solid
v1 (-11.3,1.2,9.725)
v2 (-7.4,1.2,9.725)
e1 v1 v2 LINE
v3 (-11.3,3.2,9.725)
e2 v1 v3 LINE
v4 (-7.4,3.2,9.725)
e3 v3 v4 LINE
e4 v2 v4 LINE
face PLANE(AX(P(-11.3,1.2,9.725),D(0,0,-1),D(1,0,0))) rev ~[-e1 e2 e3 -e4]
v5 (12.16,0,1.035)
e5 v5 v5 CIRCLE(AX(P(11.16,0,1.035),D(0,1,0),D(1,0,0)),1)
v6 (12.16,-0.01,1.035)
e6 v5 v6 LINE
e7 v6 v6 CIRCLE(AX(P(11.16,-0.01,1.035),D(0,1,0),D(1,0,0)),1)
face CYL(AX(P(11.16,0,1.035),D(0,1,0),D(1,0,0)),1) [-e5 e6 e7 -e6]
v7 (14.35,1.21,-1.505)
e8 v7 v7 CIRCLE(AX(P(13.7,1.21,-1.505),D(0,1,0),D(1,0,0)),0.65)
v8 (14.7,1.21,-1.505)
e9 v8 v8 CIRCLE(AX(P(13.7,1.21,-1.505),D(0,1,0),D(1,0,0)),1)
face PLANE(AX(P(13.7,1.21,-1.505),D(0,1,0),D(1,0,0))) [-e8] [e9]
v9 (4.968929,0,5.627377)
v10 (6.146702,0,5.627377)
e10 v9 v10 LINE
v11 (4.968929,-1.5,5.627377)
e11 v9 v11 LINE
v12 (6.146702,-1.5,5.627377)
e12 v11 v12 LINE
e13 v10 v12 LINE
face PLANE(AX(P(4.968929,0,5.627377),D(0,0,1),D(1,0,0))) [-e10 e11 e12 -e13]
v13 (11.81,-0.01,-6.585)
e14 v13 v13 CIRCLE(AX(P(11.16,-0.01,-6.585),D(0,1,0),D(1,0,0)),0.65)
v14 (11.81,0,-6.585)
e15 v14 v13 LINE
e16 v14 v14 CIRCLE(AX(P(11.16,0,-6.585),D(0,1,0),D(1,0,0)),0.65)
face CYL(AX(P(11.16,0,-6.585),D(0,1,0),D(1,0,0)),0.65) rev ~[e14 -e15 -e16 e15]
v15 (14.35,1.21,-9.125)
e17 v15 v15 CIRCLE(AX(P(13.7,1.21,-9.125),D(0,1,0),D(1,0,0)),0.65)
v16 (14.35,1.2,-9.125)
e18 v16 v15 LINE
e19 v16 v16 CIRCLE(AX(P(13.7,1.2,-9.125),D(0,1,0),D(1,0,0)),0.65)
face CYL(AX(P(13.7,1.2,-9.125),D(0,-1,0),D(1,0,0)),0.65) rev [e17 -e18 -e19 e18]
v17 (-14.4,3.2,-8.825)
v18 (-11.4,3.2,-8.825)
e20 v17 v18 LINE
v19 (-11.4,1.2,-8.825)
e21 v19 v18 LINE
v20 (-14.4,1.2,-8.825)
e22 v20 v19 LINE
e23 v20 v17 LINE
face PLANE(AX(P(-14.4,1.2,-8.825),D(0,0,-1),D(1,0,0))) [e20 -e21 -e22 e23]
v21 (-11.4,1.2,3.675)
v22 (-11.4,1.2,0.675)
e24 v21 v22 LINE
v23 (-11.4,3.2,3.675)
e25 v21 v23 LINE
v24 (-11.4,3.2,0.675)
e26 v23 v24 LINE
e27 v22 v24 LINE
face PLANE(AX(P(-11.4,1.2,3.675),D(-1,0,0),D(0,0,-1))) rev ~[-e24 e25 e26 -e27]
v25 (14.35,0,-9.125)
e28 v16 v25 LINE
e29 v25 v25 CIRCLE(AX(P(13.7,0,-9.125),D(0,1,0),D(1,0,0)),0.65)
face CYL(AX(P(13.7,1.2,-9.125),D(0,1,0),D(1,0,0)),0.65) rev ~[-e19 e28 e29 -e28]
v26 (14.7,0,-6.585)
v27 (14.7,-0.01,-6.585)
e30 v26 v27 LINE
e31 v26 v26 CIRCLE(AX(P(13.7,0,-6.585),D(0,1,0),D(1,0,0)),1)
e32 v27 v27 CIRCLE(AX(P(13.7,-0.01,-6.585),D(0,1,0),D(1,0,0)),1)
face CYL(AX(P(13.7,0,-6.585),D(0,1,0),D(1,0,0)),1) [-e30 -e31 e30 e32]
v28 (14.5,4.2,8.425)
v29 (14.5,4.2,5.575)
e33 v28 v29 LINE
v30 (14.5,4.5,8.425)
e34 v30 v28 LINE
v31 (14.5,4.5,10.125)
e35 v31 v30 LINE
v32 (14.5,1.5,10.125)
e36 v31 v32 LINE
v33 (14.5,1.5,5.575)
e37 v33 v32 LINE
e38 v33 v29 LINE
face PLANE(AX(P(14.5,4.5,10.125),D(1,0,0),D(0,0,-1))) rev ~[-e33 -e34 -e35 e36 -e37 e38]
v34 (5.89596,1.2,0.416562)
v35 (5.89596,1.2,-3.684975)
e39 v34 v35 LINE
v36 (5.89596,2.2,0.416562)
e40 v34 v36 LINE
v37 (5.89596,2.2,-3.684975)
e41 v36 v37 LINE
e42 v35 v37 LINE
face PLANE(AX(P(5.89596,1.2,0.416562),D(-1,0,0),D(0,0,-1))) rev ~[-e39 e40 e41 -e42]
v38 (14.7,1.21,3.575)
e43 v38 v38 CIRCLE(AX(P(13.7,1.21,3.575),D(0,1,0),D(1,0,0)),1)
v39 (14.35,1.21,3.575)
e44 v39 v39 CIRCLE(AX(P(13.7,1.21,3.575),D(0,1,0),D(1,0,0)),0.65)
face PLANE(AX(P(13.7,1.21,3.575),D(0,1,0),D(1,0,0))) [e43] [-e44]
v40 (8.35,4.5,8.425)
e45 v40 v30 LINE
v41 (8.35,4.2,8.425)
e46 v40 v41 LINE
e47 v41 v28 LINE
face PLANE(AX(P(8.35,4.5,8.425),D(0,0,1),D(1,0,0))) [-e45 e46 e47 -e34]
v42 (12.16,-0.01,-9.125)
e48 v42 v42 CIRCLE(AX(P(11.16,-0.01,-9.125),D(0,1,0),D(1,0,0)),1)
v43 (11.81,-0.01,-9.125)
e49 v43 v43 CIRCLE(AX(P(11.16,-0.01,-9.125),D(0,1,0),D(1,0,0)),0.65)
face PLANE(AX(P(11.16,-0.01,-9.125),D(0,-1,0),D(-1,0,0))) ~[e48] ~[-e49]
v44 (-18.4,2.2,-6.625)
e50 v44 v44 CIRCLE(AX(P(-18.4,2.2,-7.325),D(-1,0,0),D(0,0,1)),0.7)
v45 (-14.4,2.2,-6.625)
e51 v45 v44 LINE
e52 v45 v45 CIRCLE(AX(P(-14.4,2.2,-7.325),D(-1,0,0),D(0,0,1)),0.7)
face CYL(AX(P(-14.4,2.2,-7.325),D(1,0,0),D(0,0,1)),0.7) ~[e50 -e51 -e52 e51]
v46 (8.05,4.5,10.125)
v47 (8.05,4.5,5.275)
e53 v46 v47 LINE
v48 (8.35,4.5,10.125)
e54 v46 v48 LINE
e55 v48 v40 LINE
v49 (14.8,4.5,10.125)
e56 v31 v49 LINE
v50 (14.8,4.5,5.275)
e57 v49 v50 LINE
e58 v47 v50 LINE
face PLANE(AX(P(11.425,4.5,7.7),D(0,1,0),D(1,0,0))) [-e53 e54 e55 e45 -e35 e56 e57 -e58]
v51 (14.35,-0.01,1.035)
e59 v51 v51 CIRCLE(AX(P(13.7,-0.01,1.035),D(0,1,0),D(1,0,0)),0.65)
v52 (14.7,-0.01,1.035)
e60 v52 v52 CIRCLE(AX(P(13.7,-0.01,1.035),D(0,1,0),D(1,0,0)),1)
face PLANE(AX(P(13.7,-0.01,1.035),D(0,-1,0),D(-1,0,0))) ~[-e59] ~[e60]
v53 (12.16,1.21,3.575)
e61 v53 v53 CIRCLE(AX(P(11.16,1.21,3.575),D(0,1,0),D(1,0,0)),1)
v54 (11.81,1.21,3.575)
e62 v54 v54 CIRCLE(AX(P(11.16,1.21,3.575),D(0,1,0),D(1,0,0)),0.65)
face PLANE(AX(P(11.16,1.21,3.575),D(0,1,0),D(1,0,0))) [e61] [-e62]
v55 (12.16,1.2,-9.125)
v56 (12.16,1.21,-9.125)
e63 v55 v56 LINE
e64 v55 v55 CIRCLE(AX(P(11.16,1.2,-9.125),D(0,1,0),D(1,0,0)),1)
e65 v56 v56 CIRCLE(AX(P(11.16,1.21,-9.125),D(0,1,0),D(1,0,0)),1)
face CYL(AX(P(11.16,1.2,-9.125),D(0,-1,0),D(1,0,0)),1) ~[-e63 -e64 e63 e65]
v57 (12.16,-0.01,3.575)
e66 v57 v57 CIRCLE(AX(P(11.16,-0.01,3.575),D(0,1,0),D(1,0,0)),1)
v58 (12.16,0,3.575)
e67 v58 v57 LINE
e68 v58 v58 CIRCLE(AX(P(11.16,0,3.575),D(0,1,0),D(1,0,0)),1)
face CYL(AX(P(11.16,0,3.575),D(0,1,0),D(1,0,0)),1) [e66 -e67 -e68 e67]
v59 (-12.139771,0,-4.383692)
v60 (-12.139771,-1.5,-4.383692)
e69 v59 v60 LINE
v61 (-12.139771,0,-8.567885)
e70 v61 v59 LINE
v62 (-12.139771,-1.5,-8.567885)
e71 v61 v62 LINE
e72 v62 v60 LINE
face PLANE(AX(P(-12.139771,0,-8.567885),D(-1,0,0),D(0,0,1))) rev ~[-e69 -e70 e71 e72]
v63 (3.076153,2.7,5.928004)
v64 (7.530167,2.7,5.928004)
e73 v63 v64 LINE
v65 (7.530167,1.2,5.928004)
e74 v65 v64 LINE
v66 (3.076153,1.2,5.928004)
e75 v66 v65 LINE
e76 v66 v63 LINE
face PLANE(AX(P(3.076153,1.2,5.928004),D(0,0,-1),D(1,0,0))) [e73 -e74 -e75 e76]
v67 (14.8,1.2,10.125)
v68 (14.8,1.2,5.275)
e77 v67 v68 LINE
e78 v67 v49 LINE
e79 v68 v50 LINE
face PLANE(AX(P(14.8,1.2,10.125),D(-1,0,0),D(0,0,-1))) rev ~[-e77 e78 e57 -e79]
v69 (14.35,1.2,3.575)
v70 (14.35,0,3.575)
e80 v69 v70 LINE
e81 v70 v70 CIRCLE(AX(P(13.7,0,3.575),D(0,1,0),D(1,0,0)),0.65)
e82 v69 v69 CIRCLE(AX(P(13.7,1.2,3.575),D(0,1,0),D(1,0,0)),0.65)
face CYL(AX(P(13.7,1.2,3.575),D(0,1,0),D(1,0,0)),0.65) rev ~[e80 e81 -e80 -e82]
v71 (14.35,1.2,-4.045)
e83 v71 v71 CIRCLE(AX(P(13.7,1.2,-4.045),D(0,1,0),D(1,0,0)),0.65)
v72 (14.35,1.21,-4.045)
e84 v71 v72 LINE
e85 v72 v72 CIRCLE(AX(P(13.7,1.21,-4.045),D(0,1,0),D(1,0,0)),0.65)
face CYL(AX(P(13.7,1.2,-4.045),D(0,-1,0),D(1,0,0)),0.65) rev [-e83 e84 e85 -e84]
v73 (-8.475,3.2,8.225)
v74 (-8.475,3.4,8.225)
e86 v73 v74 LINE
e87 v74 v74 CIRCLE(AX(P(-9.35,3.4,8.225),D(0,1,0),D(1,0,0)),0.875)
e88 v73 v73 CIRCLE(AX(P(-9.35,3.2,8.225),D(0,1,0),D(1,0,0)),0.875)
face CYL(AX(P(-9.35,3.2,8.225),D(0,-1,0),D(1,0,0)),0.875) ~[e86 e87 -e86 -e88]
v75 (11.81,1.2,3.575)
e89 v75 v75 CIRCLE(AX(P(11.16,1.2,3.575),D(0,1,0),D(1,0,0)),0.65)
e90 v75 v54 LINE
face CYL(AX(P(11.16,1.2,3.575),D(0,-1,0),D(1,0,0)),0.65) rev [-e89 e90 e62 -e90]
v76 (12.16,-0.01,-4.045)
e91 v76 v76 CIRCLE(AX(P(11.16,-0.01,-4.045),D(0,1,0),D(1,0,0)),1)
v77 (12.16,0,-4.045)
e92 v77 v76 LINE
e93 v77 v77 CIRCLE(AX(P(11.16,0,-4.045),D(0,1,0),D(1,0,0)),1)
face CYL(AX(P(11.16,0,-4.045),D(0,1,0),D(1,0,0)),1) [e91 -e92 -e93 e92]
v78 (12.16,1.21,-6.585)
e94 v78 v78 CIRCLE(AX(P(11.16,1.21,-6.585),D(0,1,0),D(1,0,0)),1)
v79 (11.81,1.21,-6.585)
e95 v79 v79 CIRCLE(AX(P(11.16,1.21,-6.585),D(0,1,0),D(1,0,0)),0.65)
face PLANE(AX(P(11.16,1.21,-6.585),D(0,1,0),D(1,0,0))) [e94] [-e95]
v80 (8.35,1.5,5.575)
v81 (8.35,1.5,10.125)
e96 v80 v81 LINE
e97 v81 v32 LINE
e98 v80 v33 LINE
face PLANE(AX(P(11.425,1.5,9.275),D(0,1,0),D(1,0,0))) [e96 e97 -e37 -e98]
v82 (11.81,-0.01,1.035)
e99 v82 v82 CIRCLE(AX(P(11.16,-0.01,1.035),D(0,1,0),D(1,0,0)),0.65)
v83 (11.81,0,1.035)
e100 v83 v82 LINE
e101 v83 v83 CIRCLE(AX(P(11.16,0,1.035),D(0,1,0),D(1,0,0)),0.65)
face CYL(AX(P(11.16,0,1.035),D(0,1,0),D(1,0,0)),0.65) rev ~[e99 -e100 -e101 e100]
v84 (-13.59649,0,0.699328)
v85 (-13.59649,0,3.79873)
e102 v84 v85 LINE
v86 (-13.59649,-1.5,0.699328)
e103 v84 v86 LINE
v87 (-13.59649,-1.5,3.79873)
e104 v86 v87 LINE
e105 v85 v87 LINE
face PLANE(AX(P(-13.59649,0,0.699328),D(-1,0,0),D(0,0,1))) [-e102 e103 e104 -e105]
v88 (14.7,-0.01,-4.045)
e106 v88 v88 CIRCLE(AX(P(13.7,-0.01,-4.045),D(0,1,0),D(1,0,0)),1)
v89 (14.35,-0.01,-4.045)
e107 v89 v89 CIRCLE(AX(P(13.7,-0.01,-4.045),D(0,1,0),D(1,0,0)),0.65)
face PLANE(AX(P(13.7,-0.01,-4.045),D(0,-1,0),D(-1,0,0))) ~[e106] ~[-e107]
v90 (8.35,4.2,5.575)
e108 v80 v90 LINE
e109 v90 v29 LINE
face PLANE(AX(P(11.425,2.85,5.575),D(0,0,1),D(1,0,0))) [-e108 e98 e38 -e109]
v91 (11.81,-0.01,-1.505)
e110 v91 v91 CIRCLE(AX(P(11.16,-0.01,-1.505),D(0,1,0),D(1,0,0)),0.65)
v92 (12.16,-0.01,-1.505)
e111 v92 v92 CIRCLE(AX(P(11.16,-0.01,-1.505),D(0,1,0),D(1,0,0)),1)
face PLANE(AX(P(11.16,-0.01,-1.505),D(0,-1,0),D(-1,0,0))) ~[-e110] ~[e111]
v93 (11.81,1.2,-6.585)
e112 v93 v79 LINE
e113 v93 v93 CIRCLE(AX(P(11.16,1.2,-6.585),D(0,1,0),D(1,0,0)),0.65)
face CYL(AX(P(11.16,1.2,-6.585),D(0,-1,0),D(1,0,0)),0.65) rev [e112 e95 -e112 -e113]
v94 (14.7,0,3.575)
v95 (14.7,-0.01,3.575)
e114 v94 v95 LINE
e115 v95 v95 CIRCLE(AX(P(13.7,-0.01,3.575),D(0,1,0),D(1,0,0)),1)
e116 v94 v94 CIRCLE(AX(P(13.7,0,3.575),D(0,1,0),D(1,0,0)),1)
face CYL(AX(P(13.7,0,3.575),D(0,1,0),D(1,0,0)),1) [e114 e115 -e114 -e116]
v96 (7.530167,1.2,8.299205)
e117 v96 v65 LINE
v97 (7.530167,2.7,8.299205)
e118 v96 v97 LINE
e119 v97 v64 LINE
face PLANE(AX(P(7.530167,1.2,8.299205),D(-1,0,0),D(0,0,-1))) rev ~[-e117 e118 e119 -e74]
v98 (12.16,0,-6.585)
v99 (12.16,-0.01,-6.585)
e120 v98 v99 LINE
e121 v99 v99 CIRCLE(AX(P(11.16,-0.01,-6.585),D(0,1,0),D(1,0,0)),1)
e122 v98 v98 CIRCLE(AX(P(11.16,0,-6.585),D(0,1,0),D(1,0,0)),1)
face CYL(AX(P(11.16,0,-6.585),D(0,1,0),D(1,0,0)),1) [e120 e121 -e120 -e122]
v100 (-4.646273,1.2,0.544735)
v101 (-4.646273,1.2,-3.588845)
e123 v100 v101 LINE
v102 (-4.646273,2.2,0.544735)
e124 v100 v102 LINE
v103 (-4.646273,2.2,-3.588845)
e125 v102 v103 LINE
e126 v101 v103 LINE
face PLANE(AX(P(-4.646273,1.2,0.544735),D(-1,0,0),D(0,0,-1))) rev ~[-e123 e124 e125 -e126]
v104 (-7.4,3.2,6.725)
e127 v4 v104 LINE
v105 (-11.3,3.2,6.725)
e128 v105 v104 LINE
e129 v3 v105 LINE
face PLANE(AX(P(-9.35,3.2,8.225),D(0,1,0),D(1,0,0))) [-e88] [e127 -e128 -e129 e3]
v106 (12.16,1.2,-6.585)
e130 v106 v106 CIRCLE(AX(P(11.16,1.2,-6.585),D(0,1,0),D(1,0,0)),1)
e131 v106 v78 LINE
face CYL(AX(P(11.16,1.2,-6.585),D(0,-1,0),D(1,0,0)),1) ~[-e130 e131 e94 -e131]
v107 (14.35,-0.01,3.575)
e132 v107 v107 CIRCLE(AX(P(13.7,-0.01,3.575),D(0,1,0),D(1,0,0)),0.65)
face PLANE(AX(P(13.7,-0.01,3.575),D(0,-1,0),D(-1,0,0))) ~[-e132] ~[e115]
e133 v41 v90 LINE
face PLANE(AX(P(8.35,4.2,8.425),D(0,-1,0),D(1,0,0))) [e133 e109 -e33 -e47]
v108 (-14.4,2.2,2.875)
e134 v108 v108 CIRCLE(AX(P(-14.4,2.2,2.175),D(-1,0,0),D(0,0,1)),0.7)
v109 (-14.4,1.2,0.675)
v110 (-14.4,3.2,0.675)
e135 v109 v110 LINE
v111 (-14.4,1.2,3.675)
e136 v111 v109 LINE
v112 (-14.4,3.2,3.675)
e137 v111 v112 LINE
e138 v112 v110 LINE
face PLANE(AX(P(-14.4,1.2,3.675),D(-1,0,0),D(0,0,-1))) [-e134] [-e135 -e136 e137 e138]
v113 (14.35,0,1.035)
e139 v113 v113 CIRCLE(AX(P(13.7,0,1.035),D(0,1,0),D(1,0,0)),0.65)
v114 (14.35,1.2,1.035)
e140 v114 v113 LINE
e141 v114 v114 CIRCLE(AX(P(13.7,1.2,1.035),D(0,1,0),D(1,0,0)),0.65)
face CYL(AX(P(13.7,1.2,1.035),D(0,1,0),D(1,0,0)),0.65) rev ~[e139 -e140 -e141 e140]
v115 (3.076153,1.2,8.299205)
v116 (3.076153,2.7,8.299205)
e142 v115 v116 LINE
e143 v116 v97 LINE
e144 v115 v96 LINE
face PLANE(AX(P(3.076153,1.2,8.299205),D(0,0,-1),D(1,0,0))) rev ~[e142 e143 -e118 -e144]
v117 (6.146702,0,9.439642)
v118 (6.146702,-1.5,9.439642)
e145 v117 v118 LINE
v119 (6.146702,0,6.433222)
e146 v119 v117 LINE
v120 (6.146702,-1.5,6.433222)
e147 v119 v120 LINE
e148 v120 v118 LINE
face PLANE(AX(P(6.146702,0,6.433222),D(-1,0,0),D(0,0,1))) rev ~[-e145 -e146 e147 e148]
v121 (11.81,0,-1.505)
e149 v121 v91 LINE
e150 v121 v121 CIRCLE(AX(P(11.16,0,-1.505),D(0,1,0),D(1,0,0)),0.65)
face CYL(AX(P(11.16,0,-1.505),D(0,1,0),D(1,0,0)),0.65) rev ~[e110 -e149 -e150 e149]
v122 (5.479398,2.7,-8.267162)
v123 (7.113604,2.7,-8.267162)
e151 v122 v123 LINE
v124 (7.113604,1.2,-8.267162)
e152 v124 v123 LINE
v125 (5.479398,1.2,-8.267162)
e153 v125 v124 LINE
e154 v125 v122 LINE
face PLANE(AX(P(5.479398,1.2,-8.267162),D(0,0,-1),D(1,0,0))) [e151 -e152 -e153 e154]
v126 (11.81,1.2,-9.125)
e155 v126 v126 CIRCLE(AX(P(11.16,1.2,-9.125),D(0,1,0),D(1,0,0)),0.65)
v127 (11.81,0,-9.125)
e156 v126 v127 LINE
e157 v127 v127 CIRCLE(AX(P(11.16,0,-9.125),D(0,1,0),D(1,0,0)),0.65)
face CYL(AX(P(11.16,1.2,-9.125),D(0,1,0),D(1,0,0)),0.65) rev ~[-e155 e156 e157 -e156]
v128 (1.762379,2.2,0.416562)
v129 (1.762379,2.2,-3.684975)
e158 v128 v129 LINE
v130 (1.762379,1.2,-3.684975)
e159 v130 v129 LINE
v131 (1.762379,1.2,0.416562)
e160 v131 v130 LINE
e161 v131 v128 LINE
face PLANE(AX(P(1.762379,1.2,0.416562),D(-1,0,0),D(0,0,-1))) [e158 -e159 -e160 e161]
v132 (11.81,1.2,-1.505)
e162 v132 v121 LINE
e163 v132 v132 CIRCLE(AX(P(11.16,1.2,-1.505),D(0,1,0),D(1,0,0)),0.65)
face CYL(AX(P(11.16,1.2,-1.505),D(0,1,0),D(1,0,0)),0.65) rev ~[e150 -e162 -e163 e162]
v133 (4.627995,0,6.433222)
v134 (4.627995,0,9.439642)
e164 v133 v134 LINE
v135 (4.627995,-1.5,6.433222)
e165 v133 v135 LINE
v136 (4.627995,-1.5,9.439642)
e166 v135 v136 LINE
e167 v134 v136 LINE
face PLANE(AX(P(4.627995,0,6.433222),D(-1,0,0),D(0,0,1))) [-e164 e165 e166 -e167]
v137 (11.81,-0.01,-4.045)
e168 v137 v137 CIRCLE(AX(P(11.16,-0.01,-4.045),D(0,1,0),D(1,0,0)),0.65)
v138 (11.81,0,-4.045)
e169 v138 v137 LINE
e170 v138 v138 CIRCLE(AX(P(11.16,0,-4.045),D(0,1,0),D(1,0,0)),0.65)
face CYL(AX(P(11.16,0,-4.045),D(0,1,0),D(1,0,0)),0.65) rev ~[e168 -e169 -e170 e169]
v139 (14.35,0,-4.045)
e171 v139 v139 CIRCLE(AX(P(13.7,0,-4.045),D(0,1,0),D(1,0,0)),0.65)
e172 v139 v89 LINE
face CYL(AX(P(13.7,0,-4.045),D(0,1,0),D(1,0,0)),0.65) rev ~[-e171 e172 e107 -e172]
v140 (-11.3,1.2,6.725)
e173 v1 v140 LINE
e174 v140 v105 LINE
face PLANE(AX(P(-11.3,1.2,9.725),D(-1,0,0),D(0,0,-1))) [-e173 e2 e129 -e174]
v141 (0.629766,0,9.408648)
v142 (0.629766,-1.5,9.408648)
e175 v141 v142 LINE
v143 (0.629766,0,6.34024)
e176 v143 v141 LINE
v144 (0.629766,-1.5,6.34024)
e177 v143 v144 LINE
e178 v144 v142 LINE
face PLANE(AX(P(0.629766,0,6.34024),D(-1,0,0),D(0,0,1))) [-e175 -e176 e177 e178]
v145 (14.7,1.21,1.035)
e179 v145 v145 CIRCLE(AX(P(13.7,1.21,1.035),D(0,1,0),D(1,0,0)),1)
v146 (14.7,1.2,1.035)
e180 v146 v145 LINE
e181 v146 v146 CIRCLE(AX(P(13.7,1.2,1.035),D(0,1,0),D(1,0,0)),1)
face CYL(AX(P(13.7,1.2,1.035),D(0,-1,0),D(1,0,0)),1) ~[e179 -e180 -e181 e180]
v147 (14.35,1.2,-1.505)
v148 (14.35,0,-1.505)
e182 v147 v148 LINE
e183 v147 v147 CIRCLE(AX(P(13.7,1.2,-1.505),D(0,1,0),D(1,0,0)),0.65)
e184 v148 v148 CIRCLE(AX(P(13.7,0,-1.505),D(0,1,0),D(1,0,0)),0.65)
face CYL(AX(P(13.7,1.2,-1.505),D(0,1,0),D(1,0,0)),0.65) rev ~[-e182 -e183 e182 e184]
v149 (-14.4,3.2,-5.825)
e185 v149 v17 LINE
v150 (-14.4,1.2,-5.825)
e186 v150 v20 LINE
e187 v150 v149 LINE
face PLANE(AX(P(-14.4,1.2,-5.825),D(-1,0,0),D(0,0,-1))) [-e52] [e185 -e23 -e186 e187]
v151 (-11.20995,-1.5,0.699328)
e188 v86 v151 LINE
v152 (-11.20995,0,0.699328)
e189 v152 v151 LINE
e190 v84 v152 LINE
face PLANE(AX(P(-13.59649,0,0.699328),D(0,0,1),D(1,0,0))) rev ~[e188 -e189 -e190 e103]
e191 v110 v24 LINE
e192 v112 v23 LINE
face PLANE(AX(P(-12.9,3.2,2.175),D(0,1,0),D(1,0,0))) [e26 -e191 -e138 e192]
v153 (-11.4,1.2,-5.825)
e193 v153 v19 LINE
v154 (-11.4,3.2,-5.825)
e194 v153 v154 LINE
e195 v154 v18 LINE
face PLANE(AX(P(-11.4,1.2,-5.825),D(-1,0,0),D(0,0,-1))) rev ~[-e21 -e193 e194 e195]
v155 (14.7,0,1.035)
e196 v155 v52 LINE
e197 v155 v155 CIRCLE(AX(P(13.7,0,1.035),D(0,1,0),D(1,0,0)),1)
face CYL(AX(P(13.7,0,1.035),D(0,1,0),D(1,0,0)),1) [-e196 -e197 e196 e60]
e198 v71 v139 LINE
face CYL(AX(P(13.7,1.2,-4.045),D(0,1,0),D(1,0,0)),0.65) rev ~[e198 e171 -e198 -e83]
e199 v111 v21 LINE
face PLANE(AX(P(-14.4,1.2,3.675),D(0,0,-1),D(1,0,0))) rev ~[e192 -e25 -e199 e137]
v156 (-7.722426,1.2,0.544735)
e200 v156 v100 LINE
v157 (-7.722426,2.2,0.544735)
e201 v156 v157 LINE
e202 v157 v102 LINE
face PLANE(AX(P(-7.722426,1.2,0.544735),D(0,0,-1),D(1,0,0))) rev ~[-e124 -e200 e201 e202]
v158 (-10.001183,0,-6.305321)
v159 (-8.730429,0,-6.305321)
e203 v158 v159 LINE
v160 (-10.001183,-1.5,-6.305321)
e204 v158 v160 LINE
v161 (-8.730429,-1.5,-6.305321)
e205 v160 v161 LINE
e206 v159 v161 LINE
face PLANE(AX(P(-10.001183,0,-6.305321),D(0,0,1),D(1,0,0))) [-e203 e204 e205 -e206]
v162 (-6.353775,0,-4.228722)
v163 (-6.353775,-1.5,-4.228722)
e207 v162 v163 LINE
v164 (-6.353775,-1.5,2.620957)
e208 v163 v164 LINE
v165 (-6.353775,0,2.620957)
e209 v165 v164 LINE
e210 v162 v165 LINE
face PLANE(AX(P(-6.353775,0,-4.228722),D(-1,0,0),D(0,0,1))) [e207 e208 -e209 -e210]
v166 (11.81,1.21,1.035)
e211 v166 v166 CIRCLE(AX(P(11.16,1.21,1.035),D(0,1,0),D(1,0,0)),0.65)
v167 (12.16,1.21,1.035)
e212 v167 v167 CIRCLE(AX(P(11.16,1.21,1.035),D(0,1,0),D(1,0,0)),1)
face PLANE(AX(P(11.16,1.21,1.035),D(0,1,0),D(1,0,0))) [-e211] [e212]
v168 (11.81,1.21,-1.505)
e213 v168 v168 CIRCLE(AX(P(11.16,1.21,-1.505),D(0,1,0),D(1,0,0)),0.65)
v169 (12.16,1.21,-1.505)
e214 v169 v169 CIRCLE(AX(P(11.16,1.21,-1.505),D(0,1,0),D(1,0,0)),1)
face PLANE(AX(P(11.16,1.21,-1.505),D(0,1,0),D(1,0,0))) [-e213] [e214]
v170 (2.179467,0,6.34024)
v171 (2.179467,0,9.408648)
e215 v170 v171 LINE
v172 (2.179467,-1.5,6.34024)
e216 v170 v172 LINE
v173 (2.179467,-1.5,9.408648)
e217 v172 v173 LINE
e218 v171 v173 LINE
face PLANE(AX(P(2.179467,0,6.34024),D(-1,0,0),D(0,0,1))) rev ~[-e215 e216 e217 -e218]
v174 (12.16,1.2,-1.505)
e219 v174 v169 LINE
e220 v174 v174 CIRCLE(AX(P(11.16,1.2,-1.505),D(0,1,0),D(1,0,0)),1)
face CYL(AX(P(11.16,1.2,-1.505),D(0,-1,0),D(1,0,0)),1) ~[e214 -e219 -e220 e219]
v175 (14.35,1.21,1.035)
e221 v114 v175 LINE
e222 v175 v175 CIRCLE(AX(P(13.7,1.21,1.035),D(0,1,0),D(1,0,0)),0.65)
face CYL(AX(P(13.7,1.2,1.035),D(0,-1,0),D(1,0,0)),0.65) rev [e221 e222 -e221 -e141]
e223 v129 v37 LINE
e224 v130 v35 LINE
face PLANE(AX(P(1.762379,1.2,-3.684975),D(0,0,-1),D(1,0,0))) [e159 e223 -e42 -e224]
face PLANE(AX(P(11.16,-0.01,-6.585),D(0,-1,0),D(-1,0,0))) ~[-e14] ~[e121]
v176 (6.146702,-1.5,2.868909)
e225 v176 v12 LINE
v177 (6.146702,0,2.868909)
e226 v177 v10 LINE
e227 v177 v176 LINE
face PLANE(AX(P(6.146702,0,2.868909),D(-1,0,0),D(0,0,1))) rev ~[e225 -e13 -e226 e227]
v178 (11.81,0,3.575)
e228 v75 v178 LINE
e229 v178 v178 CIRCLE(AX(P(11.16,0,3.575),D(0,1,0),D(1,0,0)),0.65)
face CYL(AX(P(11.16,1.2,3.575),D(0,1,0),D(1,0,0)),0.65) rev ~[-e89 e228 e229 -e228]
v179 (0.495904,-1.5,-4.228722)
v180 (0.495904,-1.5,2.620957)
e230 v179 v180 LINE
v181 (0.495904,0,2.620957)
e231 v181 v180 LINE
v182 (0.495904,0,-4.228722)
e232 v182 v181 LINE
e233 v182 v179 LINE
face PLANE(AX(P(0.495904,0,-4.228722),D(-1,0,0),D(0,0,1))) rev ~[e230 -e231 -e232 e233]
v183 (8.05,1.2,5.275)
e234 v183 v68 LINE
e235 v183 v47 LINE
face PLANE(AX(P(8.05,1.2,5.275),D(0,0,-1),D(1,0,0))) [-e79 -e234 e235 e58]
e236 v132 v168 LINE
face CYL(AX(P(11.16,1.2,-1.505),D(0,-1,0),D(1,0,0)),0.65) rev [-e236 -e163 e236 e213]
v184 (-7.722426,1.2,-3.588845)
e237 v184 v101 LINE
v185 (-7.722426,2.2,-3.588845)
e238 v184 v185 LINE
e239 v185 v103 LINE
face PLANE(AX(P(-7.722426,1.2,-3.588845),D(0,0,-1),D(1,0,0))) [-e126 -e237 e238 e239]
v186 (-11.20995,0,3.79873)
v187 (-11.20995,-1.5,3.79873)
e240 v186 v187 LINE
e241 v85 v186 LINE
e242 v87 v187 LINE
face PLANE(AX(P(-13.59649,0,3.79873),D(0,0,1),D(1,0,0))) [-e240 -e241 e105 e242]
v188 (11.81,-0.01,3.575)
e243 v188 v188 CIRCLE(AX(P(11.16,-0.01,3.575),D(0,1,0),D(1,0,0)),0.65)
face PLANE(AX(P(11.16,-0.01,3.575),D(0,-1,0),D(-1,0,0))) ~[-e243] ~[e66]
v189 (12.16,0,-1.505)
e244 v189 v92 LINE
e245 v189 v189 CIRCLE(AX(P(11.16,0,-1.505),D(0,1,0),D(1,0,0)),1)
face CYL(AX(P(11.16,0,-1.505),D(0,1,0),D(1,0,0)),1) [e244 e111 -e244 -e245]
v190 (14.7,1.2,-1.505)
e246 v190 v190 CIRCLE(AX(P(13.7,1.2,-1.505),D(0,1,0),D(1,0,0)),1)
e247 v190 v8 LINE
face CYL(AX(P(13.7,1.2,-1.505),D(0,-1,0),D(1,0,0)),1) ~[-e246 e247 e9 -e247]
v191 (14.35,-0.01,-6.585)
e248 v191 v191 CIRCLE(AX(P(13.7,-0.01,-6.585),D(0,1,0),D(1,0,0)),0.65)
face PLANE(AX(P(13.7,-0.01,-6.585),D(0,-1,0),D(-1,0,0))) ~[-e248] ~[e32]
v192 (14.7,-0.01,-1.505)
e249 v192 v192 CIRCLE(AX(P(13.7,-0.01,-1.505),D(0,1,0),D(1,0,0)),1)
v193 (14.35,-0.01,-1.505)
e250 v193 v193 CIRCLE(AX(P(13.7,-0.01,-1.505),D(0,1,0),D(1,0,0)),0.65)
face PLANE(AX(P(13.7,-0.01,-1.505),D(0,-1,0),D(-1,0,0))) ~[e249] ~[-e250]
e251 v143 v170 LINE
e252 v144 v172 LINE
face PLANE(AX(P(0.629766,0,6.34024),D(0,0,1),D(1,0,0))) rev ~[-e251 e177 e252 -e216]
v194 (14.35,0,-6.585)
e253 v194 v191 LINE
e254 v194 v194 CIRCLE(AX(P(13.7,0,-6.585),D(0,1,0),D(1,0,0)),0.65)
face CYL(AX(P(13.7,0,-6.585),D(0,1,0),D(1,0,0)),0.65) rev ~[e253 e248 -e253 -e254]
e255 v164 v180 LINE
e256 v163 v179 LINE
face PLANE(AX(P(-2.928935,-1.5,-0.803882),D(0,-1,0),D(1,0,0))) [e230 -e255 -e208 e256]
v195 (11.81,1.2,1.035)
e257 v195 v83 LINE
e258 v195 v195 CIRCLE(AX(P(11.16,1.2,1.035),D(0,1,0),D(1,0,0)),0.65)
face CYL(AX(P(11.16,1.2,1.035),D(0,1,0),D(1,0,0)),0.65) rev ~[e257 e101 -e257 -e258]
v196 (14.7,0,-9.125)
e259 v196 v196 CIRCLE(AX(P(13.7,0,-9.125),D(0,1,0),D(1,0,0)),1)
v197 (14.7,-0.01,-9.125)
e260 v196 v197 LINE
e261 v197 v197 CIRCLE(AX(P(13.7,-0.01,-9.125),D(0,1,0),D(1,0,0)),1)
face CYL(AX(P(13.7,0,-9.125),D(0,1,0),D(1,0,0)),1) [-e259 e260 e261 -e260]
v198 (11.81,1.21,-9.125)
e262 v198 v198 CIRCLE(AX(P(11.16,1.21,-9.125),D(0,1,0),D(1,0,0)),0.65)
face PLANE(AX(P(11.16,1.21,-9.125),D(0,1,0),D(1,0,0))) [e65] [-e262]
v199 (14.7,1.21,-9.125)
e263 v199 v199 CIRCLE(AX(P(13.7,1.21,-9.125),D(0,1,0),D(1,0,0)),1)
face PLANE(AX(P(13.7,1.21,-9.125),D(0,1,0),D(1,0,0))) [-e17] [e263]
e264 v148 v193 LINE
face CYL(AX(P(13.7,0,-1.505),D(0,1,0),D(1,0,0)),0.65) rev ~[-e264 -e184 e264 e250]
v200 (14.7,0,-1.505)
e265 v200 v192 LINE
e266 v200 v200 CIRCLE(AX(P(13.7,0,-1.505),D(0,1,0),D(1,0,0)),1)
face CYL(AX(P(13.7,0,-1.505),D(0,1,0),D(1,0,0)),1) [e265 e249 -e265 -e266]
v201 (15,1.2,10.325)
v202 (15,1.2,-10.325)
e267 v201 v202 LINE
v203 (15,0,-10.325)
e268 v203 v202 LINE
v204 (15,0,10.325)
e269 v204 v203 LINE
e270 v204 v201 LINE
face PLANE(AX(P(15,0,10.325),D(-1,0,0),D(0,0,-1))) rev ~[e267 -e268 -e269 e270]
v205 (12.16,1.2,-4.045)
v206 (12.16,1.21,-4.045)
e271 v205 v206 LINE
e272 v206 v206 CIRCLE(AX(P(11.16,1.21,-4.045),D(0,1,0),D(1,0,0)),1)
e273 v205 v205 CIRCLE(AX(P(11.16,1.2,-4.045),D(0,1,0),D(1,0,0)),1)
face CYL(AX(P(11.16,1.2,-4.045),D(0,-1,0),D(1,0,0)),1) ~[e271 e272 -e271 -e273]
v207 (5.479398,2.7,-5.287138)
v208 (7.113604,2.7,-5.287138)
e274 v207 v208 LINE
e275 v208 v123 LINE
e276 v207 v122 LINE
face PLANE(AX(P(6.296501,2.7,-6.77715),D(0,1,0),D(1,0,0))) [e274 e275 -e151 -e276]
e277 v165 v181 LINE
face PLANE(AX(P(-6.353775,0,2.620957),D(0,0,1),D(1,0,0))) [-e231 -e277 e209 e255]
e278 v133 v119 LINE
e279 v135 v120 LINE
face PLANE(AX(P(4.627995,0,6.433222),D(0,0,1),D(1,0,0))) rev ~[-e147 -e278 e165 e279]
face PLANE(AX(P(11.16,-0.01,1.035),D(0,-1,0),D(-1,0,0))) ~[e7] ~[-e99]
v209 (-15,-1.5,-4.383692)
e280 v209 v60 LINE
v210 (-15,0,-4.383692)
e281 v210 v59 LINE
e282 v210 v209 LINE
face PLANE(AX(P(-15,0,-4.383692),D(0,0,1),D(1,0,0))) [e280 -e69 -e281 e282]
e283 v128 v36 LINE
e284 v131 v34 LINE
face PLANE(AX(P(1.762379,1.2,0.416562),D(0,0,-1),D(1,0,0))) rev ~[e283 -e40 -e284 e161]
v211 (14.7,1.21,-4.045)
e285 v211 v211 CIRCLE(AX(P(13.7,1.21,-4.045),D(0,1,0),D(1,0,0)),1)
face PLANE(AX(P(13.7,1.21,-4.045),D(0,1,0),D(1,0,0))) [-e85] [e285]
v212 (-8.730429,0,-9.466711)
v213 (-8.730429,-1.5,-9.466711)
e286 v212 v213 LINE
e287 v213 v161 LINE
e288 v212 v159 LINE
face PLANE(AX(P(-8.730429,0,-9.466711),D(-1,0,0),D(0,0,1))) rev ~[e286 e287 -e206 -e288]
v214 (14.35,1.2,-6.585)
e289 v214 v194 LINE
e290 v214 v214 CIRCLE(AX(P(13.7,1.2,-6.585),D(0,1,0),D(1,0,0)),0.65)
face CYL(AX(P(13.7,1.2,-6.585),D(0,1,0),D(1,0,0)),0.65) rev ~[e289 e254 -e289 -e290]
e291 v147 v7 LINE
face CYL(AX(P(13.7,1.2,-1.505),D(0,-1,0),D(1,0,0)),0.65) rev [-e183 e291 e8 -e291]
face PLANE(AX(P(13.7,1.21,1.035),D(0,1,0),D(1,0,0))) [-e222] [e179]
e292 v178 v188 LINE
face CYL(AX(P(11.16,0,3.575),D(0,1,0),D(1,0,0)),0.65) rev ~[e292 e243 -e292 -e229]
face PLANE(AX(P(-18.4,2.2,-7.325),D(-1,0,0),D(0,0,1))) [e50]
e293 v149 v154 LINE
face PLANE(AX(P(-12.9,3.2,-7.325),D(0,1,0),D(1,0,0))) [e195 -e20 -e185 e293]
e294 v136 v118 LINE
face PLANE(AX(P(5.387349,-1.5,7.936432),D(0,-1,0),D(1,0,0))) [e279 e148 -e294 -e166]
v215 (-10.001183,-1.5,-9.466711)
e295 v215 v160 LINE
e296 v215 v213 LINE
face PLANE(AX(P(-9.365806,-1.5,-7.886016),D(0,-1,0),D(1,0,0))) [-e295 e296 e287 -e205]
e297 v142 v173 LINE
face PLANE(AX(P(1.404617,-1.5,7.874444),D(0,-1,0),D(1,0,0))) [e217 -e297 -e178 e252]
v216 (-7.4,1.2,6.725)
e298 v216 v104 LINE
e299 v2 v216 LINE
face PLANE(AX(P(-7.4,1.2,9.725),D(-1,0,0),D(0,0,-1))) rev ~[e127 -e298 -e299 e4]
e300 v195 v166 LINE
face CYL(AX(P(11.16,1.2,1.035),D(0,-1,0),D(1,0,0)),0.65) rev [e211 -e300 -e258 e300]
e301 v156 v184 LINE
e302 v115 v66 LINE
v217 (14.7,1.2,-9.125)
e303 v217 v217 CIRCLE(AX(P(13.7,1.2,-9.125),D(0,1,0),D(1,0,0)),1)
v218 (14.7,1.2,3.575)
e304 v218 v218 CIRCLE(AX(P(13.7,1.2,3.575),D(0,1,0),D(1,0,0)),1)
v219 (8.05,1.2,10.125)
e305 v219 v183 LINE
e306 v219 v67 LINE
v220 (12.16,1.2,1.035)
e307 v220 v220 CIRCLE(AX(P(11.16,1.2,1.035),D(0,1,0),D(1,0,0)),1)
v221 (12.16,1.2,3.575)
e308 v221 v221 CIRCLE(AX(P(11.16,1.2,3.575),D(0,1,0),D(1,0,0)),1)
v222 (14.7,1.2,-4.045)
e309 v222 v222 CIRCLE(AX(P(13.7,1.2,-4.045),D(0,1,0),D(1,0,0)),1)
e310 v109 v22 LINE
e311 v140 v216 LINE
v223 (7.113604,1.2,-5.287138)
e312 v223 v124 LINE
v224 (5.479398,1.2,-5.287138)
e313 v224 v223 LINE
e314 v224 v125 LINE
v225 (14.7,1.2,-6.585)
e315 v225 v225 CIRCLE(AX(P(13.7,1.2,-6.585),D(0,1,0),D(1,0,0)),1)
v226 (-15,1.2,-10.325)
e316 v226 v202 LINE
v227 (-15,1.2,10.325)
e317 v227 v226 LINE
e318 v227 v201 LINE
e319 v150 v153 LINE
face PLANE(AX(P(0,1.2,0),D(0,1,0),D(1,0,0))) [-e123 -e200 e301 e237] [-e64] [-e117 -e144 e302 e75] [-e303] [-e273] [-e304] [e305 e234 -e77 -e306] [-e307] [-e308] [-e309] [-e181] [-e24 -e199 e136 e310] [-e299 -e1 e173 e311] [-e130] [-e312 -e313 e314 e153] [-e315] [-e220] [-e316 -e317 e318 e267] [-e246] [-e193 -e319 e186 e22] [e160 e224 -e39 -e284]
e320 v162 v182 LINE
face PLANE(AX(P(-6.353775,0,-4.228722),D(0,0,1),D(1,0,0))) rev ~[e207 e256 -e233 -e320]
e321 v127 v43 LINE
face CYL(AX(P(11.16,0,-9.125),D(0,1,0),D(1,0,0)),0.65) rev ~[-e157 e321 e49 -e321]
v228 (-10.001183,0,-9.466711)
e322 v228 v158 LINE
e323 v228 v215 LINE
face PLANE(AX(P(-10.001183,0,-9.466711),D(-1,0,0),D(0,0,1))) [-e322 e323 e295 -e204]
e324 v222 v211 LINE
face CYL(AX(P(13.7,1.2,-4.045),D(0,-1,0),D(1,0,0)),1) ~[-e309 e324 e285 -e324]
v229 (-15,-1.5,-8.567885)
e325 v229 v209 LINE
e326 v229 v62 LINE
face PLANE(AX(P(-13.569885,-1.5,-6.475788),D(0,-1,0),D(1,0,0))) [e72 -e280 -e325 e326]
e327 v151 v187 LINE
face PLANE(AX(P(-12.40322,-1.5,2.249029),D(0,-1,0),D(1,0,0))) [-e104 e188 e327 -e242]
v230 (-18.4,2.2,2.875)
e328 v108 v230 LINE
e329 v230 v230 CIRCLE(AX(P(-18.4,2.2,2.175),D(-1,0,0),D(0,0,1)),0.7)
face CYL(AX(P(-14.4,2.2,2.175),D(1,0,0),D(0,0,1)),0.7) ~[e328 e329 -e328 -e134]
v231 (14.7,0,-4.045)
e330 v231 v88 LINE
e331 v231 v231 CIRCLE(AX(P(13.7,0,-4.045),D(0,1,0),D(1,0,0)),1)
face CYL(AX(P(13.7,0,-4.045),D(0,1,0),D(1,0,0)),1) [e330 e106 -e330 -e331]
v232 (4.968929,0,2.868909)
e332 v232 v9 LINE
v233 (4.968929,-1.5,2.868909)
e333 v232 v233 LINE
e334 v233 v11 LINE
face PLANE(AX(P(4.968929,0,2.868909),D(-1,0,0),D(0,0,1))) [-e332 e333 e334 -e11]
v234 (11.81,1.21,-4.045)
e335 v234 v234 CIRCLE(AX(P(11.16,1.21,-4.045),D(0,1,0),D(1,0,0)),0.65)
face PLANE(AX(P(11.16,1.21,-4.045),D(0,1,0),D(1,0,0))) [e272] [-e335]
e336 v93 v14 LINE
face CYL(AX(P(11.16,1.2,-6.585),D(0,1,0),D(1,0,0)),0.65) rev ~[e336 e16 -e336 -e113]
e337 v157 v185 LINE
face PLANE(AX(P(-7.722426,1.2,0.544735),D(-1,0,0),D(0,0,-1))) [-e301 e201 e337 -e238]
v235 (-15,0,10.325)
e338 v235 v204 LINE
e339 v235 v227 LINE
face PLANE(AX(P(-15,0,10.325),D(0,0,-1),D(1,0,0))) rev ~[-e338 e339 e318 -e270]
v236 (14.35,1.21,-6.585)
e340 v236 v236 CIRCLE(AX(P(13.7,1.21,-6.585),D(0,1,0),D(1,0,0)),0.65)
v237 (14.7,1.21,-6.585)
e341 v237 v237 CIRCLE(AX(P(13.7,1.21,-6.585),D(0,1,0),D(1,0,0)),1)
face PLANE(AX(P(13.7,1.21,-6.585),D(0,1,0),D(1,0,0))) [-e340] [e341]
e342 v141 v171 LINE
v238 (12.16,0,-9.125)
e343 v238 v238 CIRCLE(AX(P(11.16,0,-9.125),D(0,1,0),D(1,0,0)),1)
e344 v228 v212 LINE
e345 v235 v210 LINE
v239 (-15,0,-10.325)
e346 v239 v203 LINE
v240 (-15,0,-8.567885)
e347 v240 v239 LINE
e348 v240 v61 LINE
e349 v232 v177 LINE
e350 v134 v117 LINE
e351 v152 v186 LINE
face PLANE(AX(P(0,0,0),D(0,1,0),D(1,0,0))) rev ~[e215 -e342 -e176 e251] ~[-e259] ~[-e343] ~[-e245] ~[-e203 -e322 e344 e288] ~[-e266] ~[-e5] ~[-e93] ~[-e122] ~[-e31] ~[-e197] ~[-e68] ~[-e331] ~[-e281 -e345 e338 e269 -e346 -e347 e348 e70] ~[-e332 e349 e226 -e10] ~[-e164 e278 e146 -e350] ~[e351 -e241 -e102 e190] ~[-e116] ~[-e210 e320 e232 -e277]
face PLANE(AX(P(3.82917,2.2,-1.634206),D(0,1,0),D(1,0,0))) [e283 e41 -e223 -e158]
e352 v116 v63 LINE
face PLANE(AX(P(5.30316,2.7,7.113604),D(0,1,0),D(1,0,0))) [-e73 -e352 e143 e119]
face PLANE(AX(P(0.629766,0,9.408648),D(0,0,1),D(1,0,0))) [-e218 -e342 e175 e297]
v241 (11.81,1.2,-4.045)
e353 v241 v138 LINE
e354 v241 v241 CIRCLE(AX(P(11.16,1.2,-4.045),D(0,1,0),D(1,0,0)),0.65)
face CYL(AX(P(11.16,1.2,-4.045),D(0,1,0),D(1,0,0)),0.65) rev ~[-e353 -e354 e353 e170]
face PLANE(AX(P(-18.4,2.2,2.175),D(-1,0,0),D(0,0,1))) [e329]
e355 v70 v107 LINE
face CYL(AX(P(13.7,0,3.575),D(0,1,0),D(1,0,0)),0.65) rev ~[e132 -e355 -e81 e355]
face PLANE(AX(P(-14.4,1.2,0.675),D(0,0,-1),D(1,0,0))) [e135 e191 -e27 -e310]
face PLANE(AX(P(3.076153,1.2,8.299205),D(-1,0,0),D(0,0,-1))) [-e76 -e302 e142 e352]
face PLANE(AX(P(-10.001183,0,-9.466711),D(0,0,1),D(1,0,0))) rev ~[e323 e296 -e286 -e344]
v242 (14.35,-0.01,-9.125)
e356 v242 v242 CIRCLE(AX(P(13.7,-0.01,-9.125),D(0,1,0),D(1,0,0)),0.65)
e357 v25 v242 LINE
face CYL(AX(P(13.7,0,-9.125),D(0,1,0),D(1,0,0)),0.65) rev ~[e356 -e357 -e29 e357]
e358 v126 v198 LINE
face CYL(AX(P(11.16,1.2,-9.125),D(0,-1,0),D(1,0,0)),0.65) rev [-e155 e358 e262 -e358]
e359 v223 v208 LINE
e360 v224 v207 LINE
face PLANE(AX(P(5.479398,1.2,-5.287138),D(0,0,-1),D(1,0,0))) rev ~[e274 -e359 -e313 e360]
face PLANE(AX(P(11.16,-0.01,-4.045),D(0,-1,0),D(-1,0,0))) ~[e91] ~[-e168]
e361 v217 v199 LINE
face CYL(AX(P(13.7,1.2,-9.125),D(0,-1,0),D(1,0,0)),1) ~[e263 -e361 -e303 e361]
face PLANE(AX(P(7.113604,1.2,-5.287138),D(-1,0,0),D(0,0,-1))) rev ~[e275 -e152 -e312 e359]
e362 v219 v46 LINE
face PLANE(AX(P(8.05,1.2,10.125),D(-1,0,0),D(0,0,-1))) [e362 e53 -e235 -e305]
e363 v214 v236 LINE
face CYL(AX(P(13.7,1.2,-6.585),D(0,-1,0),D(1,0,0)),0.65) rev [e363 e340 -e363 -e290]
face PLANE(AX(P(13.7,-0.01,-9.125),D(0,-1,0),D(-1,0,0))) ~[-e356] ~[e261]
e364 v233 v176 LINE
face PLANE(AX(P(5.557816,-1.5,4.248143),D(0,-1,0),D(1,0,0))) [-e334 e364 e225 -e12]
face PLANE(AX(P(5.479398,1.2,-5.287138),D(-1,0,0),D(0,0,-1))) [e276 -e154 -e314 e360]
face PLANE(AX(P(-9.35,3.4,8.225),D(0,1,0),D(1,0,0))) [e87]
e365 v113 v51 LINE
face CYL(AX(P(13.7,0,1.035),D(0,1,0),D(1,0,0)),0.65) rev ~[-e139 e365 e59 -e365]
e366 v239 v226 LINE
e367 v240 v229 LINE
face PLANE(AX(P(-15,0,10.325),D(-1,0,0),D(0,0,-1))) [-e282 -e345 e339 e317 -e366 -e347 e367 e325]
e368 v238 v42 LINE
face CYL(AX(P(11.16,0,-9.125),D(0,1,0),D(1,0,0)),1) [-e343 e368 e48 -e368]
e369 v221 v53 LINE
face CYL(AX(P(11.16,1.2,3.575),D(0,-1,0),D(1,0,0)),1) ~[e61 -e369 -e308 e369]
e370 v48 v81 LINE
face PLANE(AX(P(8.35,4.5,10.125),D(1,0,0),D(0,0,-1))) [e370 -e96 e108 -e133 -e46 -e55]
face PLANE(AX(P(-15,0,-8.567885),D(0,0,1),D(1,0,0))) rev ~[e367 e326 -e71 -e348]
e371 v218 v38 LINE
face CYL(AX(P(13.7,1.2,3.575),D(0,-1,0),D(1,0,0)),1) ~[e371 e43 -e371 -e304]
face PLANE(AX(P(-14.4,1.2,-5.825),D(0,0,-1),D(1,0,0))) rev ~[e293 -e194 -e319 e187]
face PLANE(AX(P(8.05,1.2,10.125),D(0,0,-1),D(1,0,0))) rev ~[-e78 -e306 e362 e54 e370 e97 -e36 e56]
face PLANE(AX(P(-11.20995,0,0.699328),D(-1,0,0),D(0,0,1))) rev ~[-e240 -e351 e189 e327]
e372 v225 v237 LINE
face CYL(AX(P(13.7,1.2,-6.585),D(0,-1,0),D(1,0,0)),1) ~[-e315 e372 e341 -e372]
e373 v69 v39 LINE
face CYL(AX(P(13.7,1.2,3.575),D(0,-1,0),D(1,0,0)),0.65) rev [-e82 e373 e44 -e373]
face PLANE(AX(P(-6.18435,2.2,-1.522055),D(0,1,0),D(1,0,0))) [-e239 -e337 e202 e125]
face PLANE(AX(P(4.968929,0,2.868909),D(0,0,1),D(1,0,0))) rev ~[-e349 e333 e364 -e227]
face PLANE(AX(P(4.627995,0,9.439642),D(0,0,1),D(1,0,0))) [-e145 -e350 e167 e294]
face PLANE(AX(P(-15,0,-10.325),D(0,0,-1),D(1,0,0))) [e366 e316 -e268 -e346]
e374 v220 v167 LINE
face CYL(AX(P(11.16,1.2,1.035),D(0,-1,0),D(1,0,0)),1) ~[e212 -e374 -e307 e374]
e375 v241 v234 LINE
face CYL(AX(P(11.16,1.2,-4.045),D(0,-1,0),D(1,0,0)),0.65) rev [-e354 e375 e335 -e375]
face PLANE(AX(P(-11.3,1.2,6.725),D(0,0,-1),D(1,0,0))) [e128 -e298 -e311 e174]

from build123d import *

# Parameters (mm, degrees)
SKETCH1_W            = 30
SKETCH1_H            = 20.65
BOSS_EXTRUDE1_DEPTH  = 1.2
CUT_EXTRUDE1_REACH   = 3.2
SKETCH2_R            = 0.65
SKETCH3_W            = 6.75
SKETCH3_H            = 4.85
BOSS_EXTRUDE2_DEPTH  = 3.3
SKETCH4_W            = 3
SKETCH4_H            = 3
BOSS_EXTRUDE3_DEPTH  = 2
SKETCH5_W            = 3.9
SKETCH5_H            = 3
BOSS_EXTRUDE4_DEPTH  = 2
SKETCH6_R            = 0.875
BOSS_EXTRUDE5_DEPTH  = 0.2
SKETCH7_W            = 6.15
SKETCH7_H            = 1.7
CUT_EXTRUDE2_DEPTH   = 3
SKETCH8_W            = 6.15
SKETCH8_H            = 2.7
CUT_EXTRUDE3_DEPTH   = 2.85
SKETCH9_W            = 4.13358082
SKETCH9_H            = 4.101537558
SKETCH9_W_2          = 3.076153169
SKETCH9_H_2          = 4.13358082
BOSS_EXTRUDE6_DEPTH  = 1
SKETCH10_W           = 1.634206371
SKETCH10_H           = 2.980023382
SKETCH10_W_2         = 4.454013442
SKETCH10_H_2         = 2.371201401
BOSS_EXTRUDE7_DEPTH  = 1.5
SKETCH11_W           = 6.849678862
SKETCH11_H           = 6.849678863
SKETCH11_W_2         = 1.518707079
SKETCH11_H_2         = 3.006420134
SKETCH11_W_3         = 1.5497011
SKETCH11_H_3         = 3.068408178
SKETCH11_W_4         = 1.177772837
SKETCH11_H_4         = 2.758467958
SKETCH11_W_5         = 2.86022906
SKETCH11_H_5         = 4.18419297
SKETCH11_W_6         = 2.386539694
SKETCH11_H_6         = 3.0994022
SKETCH11_W_7         = 1.270754903
SKETCH11_H_7         = 3.161390244
BOSS_EXTRUDE8_DEPTH  = 1.5
SKETCH12_R           = 1
SKETCH12_R_2         = 0.65
BOSS_EXTRUDE9_DEPTH  = 0.01
SKETCH13_R           = 0.7
BOSS_EXTRUDE10_DEPTH = 4


with BuildPart() as part:
    # Sketch1 → Boss-Extrude1 (new body)
    with BuildSketch(Plane(origin=(0, 0, 0), x_dir=(1, 0, 0), z_dir=(0, 1, 0))):
        Rectangle(SKETCH1_W, SKETCH1_H)
    extrude(amount=BOSS_EXTRUDE1_DEPTH)

    # Sketch2 → Cut-Extrude1 (cut, up to next)
    with BuildSketch(Plane(origin=(0, 1.2, 0), x_dir=(1, 0, 0), z_dir=(0, 1, 0)), mode=Mode.PRIVATE) as cut_extrude1_sk1:
        with Locations((13.7, 9.125)):
            Circle(SKETCH2_R)
    cut_extrude1_tool1 = extrude(cut_extrude1_sk1.sketch, amount=-CUT_EXTRUDE1_REACH, mode=Mode.PRIVATE) & part.part
    add(cut_extrude1_tool1.solids().sort_by_distance((13.7, 1.2, -9.125))[0], mode=Mode.SUBTRACT)
    # Sketch2 → Cut-Extrude1 (cut, up to next)
    with BuildSketch(Plane(origin=(0, 1.2, 0), x_dir=(1, 0, 0), z_dir=(0, 1, 0)), mode=Mode.PRIVATE) as cut_extrude1_sk2:
        with Locations((11.16, 9.125)):
            Circle(SKETCH2_R)
    cut_extrude1_tool2 = extrude(cut_extrude1_sk2.sketch, amount=-CUT_EXTRUDE1_REACH, mode=Mode.PRIVATE) & part.part
    add(cut_extrude1_tool2.solids().sort_by_distance((11.16, 1.2, -9.125))[0], mode=Mode.SUBTRACT)
    # Sketch2 → Cut-Extrude1 (cut, up to next)
    with BuildSketch(Plane(origin=(0, 1.2, 0), x_dir=(1, 0, 0), z_dir=(0, 1, 0)), mode=Mode.PRIVATE) as cut_extrude1_sk3:
        with Locations((11.16, 6.585)):
            Circle(SKETCH2_R)
    cut_extrude1_tool3 = extrude(cut_extrude1_sk3.sketch, amount=-CUT_EXTRUDE1_REACH, mode=Mode.PRIVATE) & part.part
    add(cut_extrude1_tool3.solids().sort_by_distance((11.16, 1.2, -6.585))[0], mode=Mode.SUBTRACT)
    # Sketch2 → Cut-Extrude1 (cut, up to next)
    with BuildSketch(Plane(origin=(0, 1.2, 0), x_dir=(1, 0, 0), z_dir=(0, 1, 0)), mode=Mode.PRIVATE) as cut_extrude1_sk4:
        with Locations((11.16, 4.045)):
            Circle(SKETCH2_R)
    cut_extrude1_tool4 = extrude(cut_extrude1_sk4.sketch, amount=-CUT_EXTRUDE1_REACH, mode=Mode.PRIVATE) & part.part
    add(cut_extrude1_tool4.solids().sort_by_distance((11.16, 1.2, -4.045))[0], mode=Mode.SUBTRACT)
    # Sketch2 → Cut-Extrude1 (cut, up to next)
    with BuildSketch(Plane(origin=(0, 1.2, 0), x_dir=(1, 0, 0), z_dir=(0, 1, 0)), mode=Mode.PRIVATE) as cut_extrude1_sk5:
        with Locations((11.16, 1.505)):
            Circle(SKETCH2_R)
    cut_extrude1_tool5 = extrude(cut_extrude1_sk5.sketch, amount=-CUT_EXTRUDE1_REACH, mode=Mode.PRIVATE) & part.part
    add(cut_extrude1_tool5.solids().sort_by_distance((11.16, 1.2, -1.505))[0], mode=Mode.SUBTRACT)
    # Sketch2 → Cut-Extrude1 (cut, up to next)
    with BuildSketch(Plane(origin=(0, 1.2, 0), x_dir=(1, 0, 0), z_dir=(0, 1, 0)), mode=Mode.PRIVATE) as cut_extrude1_sk6:
        with Locations((11.16, -1.035)):
            Circle(SKETCH2_R)
    cut_extrude1_tool6 = extrude(cut_extrude1_sk6.sketch, amount=-CUT_EXTRUDE1_REACH, mode=Mode.PRIVATE) & part.part
    add(cut_extrude1_tool6.solids().sort_by_distance((11.16, 1.2, 1.035))[0], mode=Mode.SUBTRACT)
    # Sketch2 → Cut-Extrude1 (cut, up to next)
    with BuildSketch(Plane(origin=(0, 1.2, 0), x_dir=(1, 0, 0), z_dir=(0, 1, 0)), mode=Mode.PRIVATE) as cut_extrude1_sk7:
        with Locations((11.16, -3.575)):
            Circle(SKETCH2_R)
    cut_extrude1_tool7 = extrude(cut_extrude1_sk7.sketch, amount=-CUT_EXTRUDE1_REACH, mode=Mode.PRIVATE) & part.part
    add(cut_extrude1_tool7.solids().sort_by_distance((11.16, 1.2, 3.575))[0], mode=Mode.SUBTRACT)
    # Sketch2 → Cut-Extrude1 (cut, up to next)
    with BuildSketch(Plane(origin=(0, 1.2, 0), x_dir=(1, 0, 0), z_dir=(0, 1, 0)), mode=Mode.PRIVATE) as cut_extrude1_sk8:
        with Locations((13.7, 6.585)):
            Circle(SKETCH2_R)
    cut_extrude1_tool8 = extrude(cut_extrude1_sk8.sketch, amount=-CUT_EXTRUDE1_REACH, mode=Mode.PRIVATE) & part.part
    add(cut_extrude1_tool8.solids().sort_by_distance((13.7, 1.2, -6.585))[0], mode=Mode.SUBTRACT)
    # Sketch2 → Cut-Extrude1 (cut, up to next)
    with BuildSketch(Plane(origin=(0, 1.2, 0), x_dir=(1, 0, 0), z_dir=(0, 1, 0)), mode=Mode.PRIVATE) as cut_extrude1_sk9:
        with Locations((13.7, 4.045)):
            Circle(SKETCH2_R)
    cut_extrude1_tool9 = extrude(cut_extrude1_sk9.sketch, amount=-CUT_EXTRUDE1_REACH, mode=Mode.PRIVATE) & part.part
    add(cut_extrude1_tool9.solids().sort_by_distance((13.7, 1.2, -4.045))[0], mode=Mode.SUBTRACT)
    # Sketch2 → Cut-Extrude1 (cut, up to next)
    with BuildSketch(Plane(origin=(0, 1.2, 0), x_dir=(1, 0, 0), z_dir=(0, 1, 0)), mode=Mode.PRIVATE) as cut_extrude1_sk10:
        with Locations((13.7, 1.505)):
            Circle(SKETCH2_R)
    cut_extrude1_tool10 = extrude(cut_extrude1_sk10.sketch, amount=-CUT_EXTRUDE1_REACH, mode=Mode.PRIVATE) & part.part
    add(cut_extrude1_tool10.solids().sort_by_distance((13.7, 1.2, -1.505))[0], mode=Mode.SUBTRACT)
    # Sketch2 → Cut-Extrude1 (cut, up to next)
    with BuildSketch(Plane(origin=(0, 1.2, 0), x_dir=(1, 0, 0), z_dir=(0, 1, 0)), mode=Mode.PRIVATE) as cut_extrude1_sk11:
        with Locations((13.7, -1.035)):
            Circle(SKETCH2_R)
    cut_extrude1_tool11 = extrude(cut_extrude1_sk11.sketch, amount=-CUT_EXTRUDE1_REACH, mode=Mode.PRIVATE) & part.part
    add(cut_extrude1_tool11.solids().sort_by_distance((13.7, 1.2, 1.035))[0], mode=Mode.SUBTRACT)
    # Sketch2 → Cut-Extrude1 (cut, up to next)
    with BuildSketch(Plane(origin=(0, 1.2, 0), x_dir=(1, 0, 0), z_dir=(0, 1, 0)), mode=Mode.PRIVATE) as cut_extrude1_sk12:
        with Locations((13.7, -3.575)):
            Circle(SKETCH2_R)
    cut_extrude1_tool12 = extrude(cut_extrude1_sk12.sketch, amount=-CUT_EXTRUDE1_REACH, mode=Mode.PRIVATE) & part.part
    add(cut_extrude1_tool12.solids().sort_by_distance((13.7, 1.2, 3.575))[0], mode=Mode.SUBTRACT)

    # Sketch3 → Boss-Extrude2 (add)
    with BuildSketch(Plane(origin=(0, 1.2, 0), x_dir=(1, 0, 0), z_dir=(0, 1, 0))):
        with Locations((11.425, -7.7)):
            Rectangle(SKETCH3_W, SKETCH3_H)
    extrude(amount=BOSS_EXTRUDE2_DEPTH)

    # Sketch4 → Boss-Extrude3 (add)
    with BuildSketch(Plane(origin=(0, 1.2, 0), x_dir=(1, 0, 0), z_dir=(0, 1, 0))):
        with Locations((-12.9, 7.325)):
            Rectangle(SKETCH4_W, SKETCH4_H)
        with Locations((-12.9, -2.175)):
            Rectangle(SKETCH4_W, SKETCH4_H)
    extrude(amount=BOSS_EXTRUDE3_DEPTH)

    # Sketch5 → Boss-Extrude4 (add)
    with BuildSketch(Plane(origin=(0, 1.2, 0), x_dir=(1, 0, 0), z_dir=(0, 1, 0))):
        with Locations((-9.35, -8.225)):
            Rectangle(SKETCH5_W, SKETCH5_H)
    extrude(amount=BOSS_EXTRUDE4_DEPTH)

    # Sketch6 → Boss-Extrude5 (add)
    with BuildSketch(Plane(origin=(0, 3.2, 0), x_dir=(1, 0, 0), z_dir=(0, 1, 0))):
        with Locations((-9.35, -8.225)):
            Circle(SKETCH6_R)
    extrude(amount=BOSS_EXTRUDE5_DEPTH)

    # Sketch7 → Cut-Extrude2 (cut)
    with BuildSketch(Plane(origin=(0, 4.5, 0), x_dir=(1, 0, 0), z_dir=(0, 1, 0))):
        with Locations((11.425, -9.275)):
            Rectangle(SKETCH7_W, SKETCH7_H)
    extrude(amount=-CUT_EXTRUDE2_DEPTH, mode=Mode.SUBTRACT)

    # Sketch8 → Cut-Extrude3 (cut)
    with BuildSketch(Plane.XY.offset(8.425)):
        with Locations((11.425, 2.85)):
            Rectangle(SKETCH8_W, SKETCH8_H)
    extrude(amount=-CUT_EXTRUDE3_DEPTH, mode=Mode.SUBTRACT)

    # Sketch9 → Boss-Extrude6 (add)
    with BuildSketch(Plane(origin=(0, 1.2, 0), x_dir=(1, 0, 0), z_dir=(0, 1, 0))):
        with Locations((3.82916983, 1.634206371)):
            Rectangle(SKETCH9_W, SKETCH9_H)
        with Locations((-6.1843496, 1.522054953)):
            Rectangle(SKETCH9_W_2, SKETCH9_H_2)
    extrude(amount=BOSS_EXTRUDE6_DEPTH)

    # Sketch10 → Boss-Extrude7 (add)
    with BuildSketch(Plane(origin=(0, 1.2, 0), x_dir=(1, 0, 0), z_dir=(0, 1, 0))):
        with Locations((6.296501018, 6.77714995)):
            Rectangle(SKETCH10_W, SKETCH10_H)
        with Locations((5.30315989, -7.113604202)):
            Rectangle(SKETCH10_W_2, SKETCH10_H_2)
    extrude(amount=BOSS_EXTRUDE7_DEPTH)

    # Sketch11 → Boss-Extrude8 (add)
    with BuildSketch(Plane.XZ):
        with Locations((-2.928935079, -0.803882292)):
            Rectangle(SKETCH11_W, SKETCH11_H)
        with Locations((5.387348503, 7.936431913)):
            Rectangle(SKETCH11_W_2, SKETCH11_H_2)
        with Locations((1.404616675, 7.874443869)):
            Rectangle(SKETCH11_W_3, SKETCH11_H_3)
        with Locations((5.557815623, 4.248143295)):
            Rectangle(SKETCH11_W_4, SKETCH11_H_4)
        with Locations((-13.56988547, -6.475788318)):
            Rectangle(SKETCH11_W_5, SKETCH11_H_5)
        with Locations((-12.403220127, 2.249028876)):
            Rectangle(SKETCH11_W_6, SKETCH11_H_6)
        with Locations((-9.365805971, -7.886016319)):
            Rectangle(SKETCH11_W_7, SKETCH11_H_7)
    extrude(amount=BOSS_EXTRUDE8_DEPTH)

    # Sketch12 → Boss-Extrude9 (add)
    with BuildSketch(Plane(origin=(0, 1.2, 0), x_dir=(1, 0, 0), z_dir=(0, 1, 0))):
        with Locations((11.16, 9.125)):
            Circle(SKETCH12_R)
        with Locations((11.16, 9.125)):
            Circle(SKETCH12_R_2, mode=Mode.SUBTRACT)
        with Locations((13.7, 9.125)):
            Circle(SKETCH12_R)
        with Locations((13.7, 9.125)):
            Circle(SKETCH12_R_2, mode=Mode.SUBTRACT)
        with Locations((13.7, 6.585)):
            Circle(SKETCH12_R)
        with Locations((13.7, 6.585)):
            Circle(SKETCH12_R_2, mode=Mode.SUBTRACT)
        with Locations((11.16, 6.585)):
            Circle(SKETCH12_R)
        with Locations((11.16, 6.585)):
            Circle(SKETCH12_R_2, mode=Mode.SUBTRACT)
        with Locations((11.16, 4.045)):
            Circle(SKETCH12_R)
        with Locations((11.16, 4.045)):
            Circle(SKETCH12_R_2, mode=Mode.SUBTRACT)
        with Locations((13.7, 4.045)):
            Circle(SKETCH12_R)
        with Locations((13.7, 4.045)):
            Circle(SKETCH12_R_2, mode=Mode.SUBTRACT)
        with Locations((13.7, 1.505)):
            Circle(SKETCH12_R)
        with Locations((13.7, 1.505)):
            Circle(SKETCH12_R_2, mode=Mode.SUBTRACT)
        with Locations((11.16, 1.505)):
            Circle(SKETCH12_R)
        with Locations((11.16, 1.505)):
            Circle(SKETCH12_R_2, mode=Mode.SUBTRACT)
        with Locations((11.16, -1.035)):
            Circle(SKETCH12_R)
        with Locations((11.16, -1.035)):
            Circle(SKETCH12_R_2, mode=Mode.SUBTRACT)
        with Locations((11.16, -3.575)):
            Circle(SKETCH12_R)
        with Locations((11.16, -3.575)):
            Circle(SKETCH12_R_2, mode=Mode.SUBTRACT)
        with Locations((13.7, -3.575)):
            Circle(SKETCH12_R)
        with Locations((13.7, -3.575)):
            Circle(SKETCH12_R_2, mode=Mode.SUBTRACT)
        with Locations((13.7, -1.035)):
            Circle(SKETCH12_R)
        with Locations((13.7, -1.035)):
            Circle(SKETCH12_R_2, mode=Mode.SUBTRACT)
    boss_extrude9 = extrude(amount=BOSS_EXTRUDE9_DEPTH)

    # Mirror1: Boss-Extrude9 across plane
    add(boss_extrude9.mirror(Plane.ZX.offset(0.6)))

    # Sketch13 → Boss-Extrude10 (add)
    with BuildSketch(Plane.ZY.offset(14.4)):
        with Locations((-7.325, 2.2)):
            Circle(SKETCH13_R)
        with Locations((2.175, 2.2)):
            Circle(SKETCH13_R)
    extrude(amount=BOSS_EXTRUDE10_DEPTH)


solid = part.part
